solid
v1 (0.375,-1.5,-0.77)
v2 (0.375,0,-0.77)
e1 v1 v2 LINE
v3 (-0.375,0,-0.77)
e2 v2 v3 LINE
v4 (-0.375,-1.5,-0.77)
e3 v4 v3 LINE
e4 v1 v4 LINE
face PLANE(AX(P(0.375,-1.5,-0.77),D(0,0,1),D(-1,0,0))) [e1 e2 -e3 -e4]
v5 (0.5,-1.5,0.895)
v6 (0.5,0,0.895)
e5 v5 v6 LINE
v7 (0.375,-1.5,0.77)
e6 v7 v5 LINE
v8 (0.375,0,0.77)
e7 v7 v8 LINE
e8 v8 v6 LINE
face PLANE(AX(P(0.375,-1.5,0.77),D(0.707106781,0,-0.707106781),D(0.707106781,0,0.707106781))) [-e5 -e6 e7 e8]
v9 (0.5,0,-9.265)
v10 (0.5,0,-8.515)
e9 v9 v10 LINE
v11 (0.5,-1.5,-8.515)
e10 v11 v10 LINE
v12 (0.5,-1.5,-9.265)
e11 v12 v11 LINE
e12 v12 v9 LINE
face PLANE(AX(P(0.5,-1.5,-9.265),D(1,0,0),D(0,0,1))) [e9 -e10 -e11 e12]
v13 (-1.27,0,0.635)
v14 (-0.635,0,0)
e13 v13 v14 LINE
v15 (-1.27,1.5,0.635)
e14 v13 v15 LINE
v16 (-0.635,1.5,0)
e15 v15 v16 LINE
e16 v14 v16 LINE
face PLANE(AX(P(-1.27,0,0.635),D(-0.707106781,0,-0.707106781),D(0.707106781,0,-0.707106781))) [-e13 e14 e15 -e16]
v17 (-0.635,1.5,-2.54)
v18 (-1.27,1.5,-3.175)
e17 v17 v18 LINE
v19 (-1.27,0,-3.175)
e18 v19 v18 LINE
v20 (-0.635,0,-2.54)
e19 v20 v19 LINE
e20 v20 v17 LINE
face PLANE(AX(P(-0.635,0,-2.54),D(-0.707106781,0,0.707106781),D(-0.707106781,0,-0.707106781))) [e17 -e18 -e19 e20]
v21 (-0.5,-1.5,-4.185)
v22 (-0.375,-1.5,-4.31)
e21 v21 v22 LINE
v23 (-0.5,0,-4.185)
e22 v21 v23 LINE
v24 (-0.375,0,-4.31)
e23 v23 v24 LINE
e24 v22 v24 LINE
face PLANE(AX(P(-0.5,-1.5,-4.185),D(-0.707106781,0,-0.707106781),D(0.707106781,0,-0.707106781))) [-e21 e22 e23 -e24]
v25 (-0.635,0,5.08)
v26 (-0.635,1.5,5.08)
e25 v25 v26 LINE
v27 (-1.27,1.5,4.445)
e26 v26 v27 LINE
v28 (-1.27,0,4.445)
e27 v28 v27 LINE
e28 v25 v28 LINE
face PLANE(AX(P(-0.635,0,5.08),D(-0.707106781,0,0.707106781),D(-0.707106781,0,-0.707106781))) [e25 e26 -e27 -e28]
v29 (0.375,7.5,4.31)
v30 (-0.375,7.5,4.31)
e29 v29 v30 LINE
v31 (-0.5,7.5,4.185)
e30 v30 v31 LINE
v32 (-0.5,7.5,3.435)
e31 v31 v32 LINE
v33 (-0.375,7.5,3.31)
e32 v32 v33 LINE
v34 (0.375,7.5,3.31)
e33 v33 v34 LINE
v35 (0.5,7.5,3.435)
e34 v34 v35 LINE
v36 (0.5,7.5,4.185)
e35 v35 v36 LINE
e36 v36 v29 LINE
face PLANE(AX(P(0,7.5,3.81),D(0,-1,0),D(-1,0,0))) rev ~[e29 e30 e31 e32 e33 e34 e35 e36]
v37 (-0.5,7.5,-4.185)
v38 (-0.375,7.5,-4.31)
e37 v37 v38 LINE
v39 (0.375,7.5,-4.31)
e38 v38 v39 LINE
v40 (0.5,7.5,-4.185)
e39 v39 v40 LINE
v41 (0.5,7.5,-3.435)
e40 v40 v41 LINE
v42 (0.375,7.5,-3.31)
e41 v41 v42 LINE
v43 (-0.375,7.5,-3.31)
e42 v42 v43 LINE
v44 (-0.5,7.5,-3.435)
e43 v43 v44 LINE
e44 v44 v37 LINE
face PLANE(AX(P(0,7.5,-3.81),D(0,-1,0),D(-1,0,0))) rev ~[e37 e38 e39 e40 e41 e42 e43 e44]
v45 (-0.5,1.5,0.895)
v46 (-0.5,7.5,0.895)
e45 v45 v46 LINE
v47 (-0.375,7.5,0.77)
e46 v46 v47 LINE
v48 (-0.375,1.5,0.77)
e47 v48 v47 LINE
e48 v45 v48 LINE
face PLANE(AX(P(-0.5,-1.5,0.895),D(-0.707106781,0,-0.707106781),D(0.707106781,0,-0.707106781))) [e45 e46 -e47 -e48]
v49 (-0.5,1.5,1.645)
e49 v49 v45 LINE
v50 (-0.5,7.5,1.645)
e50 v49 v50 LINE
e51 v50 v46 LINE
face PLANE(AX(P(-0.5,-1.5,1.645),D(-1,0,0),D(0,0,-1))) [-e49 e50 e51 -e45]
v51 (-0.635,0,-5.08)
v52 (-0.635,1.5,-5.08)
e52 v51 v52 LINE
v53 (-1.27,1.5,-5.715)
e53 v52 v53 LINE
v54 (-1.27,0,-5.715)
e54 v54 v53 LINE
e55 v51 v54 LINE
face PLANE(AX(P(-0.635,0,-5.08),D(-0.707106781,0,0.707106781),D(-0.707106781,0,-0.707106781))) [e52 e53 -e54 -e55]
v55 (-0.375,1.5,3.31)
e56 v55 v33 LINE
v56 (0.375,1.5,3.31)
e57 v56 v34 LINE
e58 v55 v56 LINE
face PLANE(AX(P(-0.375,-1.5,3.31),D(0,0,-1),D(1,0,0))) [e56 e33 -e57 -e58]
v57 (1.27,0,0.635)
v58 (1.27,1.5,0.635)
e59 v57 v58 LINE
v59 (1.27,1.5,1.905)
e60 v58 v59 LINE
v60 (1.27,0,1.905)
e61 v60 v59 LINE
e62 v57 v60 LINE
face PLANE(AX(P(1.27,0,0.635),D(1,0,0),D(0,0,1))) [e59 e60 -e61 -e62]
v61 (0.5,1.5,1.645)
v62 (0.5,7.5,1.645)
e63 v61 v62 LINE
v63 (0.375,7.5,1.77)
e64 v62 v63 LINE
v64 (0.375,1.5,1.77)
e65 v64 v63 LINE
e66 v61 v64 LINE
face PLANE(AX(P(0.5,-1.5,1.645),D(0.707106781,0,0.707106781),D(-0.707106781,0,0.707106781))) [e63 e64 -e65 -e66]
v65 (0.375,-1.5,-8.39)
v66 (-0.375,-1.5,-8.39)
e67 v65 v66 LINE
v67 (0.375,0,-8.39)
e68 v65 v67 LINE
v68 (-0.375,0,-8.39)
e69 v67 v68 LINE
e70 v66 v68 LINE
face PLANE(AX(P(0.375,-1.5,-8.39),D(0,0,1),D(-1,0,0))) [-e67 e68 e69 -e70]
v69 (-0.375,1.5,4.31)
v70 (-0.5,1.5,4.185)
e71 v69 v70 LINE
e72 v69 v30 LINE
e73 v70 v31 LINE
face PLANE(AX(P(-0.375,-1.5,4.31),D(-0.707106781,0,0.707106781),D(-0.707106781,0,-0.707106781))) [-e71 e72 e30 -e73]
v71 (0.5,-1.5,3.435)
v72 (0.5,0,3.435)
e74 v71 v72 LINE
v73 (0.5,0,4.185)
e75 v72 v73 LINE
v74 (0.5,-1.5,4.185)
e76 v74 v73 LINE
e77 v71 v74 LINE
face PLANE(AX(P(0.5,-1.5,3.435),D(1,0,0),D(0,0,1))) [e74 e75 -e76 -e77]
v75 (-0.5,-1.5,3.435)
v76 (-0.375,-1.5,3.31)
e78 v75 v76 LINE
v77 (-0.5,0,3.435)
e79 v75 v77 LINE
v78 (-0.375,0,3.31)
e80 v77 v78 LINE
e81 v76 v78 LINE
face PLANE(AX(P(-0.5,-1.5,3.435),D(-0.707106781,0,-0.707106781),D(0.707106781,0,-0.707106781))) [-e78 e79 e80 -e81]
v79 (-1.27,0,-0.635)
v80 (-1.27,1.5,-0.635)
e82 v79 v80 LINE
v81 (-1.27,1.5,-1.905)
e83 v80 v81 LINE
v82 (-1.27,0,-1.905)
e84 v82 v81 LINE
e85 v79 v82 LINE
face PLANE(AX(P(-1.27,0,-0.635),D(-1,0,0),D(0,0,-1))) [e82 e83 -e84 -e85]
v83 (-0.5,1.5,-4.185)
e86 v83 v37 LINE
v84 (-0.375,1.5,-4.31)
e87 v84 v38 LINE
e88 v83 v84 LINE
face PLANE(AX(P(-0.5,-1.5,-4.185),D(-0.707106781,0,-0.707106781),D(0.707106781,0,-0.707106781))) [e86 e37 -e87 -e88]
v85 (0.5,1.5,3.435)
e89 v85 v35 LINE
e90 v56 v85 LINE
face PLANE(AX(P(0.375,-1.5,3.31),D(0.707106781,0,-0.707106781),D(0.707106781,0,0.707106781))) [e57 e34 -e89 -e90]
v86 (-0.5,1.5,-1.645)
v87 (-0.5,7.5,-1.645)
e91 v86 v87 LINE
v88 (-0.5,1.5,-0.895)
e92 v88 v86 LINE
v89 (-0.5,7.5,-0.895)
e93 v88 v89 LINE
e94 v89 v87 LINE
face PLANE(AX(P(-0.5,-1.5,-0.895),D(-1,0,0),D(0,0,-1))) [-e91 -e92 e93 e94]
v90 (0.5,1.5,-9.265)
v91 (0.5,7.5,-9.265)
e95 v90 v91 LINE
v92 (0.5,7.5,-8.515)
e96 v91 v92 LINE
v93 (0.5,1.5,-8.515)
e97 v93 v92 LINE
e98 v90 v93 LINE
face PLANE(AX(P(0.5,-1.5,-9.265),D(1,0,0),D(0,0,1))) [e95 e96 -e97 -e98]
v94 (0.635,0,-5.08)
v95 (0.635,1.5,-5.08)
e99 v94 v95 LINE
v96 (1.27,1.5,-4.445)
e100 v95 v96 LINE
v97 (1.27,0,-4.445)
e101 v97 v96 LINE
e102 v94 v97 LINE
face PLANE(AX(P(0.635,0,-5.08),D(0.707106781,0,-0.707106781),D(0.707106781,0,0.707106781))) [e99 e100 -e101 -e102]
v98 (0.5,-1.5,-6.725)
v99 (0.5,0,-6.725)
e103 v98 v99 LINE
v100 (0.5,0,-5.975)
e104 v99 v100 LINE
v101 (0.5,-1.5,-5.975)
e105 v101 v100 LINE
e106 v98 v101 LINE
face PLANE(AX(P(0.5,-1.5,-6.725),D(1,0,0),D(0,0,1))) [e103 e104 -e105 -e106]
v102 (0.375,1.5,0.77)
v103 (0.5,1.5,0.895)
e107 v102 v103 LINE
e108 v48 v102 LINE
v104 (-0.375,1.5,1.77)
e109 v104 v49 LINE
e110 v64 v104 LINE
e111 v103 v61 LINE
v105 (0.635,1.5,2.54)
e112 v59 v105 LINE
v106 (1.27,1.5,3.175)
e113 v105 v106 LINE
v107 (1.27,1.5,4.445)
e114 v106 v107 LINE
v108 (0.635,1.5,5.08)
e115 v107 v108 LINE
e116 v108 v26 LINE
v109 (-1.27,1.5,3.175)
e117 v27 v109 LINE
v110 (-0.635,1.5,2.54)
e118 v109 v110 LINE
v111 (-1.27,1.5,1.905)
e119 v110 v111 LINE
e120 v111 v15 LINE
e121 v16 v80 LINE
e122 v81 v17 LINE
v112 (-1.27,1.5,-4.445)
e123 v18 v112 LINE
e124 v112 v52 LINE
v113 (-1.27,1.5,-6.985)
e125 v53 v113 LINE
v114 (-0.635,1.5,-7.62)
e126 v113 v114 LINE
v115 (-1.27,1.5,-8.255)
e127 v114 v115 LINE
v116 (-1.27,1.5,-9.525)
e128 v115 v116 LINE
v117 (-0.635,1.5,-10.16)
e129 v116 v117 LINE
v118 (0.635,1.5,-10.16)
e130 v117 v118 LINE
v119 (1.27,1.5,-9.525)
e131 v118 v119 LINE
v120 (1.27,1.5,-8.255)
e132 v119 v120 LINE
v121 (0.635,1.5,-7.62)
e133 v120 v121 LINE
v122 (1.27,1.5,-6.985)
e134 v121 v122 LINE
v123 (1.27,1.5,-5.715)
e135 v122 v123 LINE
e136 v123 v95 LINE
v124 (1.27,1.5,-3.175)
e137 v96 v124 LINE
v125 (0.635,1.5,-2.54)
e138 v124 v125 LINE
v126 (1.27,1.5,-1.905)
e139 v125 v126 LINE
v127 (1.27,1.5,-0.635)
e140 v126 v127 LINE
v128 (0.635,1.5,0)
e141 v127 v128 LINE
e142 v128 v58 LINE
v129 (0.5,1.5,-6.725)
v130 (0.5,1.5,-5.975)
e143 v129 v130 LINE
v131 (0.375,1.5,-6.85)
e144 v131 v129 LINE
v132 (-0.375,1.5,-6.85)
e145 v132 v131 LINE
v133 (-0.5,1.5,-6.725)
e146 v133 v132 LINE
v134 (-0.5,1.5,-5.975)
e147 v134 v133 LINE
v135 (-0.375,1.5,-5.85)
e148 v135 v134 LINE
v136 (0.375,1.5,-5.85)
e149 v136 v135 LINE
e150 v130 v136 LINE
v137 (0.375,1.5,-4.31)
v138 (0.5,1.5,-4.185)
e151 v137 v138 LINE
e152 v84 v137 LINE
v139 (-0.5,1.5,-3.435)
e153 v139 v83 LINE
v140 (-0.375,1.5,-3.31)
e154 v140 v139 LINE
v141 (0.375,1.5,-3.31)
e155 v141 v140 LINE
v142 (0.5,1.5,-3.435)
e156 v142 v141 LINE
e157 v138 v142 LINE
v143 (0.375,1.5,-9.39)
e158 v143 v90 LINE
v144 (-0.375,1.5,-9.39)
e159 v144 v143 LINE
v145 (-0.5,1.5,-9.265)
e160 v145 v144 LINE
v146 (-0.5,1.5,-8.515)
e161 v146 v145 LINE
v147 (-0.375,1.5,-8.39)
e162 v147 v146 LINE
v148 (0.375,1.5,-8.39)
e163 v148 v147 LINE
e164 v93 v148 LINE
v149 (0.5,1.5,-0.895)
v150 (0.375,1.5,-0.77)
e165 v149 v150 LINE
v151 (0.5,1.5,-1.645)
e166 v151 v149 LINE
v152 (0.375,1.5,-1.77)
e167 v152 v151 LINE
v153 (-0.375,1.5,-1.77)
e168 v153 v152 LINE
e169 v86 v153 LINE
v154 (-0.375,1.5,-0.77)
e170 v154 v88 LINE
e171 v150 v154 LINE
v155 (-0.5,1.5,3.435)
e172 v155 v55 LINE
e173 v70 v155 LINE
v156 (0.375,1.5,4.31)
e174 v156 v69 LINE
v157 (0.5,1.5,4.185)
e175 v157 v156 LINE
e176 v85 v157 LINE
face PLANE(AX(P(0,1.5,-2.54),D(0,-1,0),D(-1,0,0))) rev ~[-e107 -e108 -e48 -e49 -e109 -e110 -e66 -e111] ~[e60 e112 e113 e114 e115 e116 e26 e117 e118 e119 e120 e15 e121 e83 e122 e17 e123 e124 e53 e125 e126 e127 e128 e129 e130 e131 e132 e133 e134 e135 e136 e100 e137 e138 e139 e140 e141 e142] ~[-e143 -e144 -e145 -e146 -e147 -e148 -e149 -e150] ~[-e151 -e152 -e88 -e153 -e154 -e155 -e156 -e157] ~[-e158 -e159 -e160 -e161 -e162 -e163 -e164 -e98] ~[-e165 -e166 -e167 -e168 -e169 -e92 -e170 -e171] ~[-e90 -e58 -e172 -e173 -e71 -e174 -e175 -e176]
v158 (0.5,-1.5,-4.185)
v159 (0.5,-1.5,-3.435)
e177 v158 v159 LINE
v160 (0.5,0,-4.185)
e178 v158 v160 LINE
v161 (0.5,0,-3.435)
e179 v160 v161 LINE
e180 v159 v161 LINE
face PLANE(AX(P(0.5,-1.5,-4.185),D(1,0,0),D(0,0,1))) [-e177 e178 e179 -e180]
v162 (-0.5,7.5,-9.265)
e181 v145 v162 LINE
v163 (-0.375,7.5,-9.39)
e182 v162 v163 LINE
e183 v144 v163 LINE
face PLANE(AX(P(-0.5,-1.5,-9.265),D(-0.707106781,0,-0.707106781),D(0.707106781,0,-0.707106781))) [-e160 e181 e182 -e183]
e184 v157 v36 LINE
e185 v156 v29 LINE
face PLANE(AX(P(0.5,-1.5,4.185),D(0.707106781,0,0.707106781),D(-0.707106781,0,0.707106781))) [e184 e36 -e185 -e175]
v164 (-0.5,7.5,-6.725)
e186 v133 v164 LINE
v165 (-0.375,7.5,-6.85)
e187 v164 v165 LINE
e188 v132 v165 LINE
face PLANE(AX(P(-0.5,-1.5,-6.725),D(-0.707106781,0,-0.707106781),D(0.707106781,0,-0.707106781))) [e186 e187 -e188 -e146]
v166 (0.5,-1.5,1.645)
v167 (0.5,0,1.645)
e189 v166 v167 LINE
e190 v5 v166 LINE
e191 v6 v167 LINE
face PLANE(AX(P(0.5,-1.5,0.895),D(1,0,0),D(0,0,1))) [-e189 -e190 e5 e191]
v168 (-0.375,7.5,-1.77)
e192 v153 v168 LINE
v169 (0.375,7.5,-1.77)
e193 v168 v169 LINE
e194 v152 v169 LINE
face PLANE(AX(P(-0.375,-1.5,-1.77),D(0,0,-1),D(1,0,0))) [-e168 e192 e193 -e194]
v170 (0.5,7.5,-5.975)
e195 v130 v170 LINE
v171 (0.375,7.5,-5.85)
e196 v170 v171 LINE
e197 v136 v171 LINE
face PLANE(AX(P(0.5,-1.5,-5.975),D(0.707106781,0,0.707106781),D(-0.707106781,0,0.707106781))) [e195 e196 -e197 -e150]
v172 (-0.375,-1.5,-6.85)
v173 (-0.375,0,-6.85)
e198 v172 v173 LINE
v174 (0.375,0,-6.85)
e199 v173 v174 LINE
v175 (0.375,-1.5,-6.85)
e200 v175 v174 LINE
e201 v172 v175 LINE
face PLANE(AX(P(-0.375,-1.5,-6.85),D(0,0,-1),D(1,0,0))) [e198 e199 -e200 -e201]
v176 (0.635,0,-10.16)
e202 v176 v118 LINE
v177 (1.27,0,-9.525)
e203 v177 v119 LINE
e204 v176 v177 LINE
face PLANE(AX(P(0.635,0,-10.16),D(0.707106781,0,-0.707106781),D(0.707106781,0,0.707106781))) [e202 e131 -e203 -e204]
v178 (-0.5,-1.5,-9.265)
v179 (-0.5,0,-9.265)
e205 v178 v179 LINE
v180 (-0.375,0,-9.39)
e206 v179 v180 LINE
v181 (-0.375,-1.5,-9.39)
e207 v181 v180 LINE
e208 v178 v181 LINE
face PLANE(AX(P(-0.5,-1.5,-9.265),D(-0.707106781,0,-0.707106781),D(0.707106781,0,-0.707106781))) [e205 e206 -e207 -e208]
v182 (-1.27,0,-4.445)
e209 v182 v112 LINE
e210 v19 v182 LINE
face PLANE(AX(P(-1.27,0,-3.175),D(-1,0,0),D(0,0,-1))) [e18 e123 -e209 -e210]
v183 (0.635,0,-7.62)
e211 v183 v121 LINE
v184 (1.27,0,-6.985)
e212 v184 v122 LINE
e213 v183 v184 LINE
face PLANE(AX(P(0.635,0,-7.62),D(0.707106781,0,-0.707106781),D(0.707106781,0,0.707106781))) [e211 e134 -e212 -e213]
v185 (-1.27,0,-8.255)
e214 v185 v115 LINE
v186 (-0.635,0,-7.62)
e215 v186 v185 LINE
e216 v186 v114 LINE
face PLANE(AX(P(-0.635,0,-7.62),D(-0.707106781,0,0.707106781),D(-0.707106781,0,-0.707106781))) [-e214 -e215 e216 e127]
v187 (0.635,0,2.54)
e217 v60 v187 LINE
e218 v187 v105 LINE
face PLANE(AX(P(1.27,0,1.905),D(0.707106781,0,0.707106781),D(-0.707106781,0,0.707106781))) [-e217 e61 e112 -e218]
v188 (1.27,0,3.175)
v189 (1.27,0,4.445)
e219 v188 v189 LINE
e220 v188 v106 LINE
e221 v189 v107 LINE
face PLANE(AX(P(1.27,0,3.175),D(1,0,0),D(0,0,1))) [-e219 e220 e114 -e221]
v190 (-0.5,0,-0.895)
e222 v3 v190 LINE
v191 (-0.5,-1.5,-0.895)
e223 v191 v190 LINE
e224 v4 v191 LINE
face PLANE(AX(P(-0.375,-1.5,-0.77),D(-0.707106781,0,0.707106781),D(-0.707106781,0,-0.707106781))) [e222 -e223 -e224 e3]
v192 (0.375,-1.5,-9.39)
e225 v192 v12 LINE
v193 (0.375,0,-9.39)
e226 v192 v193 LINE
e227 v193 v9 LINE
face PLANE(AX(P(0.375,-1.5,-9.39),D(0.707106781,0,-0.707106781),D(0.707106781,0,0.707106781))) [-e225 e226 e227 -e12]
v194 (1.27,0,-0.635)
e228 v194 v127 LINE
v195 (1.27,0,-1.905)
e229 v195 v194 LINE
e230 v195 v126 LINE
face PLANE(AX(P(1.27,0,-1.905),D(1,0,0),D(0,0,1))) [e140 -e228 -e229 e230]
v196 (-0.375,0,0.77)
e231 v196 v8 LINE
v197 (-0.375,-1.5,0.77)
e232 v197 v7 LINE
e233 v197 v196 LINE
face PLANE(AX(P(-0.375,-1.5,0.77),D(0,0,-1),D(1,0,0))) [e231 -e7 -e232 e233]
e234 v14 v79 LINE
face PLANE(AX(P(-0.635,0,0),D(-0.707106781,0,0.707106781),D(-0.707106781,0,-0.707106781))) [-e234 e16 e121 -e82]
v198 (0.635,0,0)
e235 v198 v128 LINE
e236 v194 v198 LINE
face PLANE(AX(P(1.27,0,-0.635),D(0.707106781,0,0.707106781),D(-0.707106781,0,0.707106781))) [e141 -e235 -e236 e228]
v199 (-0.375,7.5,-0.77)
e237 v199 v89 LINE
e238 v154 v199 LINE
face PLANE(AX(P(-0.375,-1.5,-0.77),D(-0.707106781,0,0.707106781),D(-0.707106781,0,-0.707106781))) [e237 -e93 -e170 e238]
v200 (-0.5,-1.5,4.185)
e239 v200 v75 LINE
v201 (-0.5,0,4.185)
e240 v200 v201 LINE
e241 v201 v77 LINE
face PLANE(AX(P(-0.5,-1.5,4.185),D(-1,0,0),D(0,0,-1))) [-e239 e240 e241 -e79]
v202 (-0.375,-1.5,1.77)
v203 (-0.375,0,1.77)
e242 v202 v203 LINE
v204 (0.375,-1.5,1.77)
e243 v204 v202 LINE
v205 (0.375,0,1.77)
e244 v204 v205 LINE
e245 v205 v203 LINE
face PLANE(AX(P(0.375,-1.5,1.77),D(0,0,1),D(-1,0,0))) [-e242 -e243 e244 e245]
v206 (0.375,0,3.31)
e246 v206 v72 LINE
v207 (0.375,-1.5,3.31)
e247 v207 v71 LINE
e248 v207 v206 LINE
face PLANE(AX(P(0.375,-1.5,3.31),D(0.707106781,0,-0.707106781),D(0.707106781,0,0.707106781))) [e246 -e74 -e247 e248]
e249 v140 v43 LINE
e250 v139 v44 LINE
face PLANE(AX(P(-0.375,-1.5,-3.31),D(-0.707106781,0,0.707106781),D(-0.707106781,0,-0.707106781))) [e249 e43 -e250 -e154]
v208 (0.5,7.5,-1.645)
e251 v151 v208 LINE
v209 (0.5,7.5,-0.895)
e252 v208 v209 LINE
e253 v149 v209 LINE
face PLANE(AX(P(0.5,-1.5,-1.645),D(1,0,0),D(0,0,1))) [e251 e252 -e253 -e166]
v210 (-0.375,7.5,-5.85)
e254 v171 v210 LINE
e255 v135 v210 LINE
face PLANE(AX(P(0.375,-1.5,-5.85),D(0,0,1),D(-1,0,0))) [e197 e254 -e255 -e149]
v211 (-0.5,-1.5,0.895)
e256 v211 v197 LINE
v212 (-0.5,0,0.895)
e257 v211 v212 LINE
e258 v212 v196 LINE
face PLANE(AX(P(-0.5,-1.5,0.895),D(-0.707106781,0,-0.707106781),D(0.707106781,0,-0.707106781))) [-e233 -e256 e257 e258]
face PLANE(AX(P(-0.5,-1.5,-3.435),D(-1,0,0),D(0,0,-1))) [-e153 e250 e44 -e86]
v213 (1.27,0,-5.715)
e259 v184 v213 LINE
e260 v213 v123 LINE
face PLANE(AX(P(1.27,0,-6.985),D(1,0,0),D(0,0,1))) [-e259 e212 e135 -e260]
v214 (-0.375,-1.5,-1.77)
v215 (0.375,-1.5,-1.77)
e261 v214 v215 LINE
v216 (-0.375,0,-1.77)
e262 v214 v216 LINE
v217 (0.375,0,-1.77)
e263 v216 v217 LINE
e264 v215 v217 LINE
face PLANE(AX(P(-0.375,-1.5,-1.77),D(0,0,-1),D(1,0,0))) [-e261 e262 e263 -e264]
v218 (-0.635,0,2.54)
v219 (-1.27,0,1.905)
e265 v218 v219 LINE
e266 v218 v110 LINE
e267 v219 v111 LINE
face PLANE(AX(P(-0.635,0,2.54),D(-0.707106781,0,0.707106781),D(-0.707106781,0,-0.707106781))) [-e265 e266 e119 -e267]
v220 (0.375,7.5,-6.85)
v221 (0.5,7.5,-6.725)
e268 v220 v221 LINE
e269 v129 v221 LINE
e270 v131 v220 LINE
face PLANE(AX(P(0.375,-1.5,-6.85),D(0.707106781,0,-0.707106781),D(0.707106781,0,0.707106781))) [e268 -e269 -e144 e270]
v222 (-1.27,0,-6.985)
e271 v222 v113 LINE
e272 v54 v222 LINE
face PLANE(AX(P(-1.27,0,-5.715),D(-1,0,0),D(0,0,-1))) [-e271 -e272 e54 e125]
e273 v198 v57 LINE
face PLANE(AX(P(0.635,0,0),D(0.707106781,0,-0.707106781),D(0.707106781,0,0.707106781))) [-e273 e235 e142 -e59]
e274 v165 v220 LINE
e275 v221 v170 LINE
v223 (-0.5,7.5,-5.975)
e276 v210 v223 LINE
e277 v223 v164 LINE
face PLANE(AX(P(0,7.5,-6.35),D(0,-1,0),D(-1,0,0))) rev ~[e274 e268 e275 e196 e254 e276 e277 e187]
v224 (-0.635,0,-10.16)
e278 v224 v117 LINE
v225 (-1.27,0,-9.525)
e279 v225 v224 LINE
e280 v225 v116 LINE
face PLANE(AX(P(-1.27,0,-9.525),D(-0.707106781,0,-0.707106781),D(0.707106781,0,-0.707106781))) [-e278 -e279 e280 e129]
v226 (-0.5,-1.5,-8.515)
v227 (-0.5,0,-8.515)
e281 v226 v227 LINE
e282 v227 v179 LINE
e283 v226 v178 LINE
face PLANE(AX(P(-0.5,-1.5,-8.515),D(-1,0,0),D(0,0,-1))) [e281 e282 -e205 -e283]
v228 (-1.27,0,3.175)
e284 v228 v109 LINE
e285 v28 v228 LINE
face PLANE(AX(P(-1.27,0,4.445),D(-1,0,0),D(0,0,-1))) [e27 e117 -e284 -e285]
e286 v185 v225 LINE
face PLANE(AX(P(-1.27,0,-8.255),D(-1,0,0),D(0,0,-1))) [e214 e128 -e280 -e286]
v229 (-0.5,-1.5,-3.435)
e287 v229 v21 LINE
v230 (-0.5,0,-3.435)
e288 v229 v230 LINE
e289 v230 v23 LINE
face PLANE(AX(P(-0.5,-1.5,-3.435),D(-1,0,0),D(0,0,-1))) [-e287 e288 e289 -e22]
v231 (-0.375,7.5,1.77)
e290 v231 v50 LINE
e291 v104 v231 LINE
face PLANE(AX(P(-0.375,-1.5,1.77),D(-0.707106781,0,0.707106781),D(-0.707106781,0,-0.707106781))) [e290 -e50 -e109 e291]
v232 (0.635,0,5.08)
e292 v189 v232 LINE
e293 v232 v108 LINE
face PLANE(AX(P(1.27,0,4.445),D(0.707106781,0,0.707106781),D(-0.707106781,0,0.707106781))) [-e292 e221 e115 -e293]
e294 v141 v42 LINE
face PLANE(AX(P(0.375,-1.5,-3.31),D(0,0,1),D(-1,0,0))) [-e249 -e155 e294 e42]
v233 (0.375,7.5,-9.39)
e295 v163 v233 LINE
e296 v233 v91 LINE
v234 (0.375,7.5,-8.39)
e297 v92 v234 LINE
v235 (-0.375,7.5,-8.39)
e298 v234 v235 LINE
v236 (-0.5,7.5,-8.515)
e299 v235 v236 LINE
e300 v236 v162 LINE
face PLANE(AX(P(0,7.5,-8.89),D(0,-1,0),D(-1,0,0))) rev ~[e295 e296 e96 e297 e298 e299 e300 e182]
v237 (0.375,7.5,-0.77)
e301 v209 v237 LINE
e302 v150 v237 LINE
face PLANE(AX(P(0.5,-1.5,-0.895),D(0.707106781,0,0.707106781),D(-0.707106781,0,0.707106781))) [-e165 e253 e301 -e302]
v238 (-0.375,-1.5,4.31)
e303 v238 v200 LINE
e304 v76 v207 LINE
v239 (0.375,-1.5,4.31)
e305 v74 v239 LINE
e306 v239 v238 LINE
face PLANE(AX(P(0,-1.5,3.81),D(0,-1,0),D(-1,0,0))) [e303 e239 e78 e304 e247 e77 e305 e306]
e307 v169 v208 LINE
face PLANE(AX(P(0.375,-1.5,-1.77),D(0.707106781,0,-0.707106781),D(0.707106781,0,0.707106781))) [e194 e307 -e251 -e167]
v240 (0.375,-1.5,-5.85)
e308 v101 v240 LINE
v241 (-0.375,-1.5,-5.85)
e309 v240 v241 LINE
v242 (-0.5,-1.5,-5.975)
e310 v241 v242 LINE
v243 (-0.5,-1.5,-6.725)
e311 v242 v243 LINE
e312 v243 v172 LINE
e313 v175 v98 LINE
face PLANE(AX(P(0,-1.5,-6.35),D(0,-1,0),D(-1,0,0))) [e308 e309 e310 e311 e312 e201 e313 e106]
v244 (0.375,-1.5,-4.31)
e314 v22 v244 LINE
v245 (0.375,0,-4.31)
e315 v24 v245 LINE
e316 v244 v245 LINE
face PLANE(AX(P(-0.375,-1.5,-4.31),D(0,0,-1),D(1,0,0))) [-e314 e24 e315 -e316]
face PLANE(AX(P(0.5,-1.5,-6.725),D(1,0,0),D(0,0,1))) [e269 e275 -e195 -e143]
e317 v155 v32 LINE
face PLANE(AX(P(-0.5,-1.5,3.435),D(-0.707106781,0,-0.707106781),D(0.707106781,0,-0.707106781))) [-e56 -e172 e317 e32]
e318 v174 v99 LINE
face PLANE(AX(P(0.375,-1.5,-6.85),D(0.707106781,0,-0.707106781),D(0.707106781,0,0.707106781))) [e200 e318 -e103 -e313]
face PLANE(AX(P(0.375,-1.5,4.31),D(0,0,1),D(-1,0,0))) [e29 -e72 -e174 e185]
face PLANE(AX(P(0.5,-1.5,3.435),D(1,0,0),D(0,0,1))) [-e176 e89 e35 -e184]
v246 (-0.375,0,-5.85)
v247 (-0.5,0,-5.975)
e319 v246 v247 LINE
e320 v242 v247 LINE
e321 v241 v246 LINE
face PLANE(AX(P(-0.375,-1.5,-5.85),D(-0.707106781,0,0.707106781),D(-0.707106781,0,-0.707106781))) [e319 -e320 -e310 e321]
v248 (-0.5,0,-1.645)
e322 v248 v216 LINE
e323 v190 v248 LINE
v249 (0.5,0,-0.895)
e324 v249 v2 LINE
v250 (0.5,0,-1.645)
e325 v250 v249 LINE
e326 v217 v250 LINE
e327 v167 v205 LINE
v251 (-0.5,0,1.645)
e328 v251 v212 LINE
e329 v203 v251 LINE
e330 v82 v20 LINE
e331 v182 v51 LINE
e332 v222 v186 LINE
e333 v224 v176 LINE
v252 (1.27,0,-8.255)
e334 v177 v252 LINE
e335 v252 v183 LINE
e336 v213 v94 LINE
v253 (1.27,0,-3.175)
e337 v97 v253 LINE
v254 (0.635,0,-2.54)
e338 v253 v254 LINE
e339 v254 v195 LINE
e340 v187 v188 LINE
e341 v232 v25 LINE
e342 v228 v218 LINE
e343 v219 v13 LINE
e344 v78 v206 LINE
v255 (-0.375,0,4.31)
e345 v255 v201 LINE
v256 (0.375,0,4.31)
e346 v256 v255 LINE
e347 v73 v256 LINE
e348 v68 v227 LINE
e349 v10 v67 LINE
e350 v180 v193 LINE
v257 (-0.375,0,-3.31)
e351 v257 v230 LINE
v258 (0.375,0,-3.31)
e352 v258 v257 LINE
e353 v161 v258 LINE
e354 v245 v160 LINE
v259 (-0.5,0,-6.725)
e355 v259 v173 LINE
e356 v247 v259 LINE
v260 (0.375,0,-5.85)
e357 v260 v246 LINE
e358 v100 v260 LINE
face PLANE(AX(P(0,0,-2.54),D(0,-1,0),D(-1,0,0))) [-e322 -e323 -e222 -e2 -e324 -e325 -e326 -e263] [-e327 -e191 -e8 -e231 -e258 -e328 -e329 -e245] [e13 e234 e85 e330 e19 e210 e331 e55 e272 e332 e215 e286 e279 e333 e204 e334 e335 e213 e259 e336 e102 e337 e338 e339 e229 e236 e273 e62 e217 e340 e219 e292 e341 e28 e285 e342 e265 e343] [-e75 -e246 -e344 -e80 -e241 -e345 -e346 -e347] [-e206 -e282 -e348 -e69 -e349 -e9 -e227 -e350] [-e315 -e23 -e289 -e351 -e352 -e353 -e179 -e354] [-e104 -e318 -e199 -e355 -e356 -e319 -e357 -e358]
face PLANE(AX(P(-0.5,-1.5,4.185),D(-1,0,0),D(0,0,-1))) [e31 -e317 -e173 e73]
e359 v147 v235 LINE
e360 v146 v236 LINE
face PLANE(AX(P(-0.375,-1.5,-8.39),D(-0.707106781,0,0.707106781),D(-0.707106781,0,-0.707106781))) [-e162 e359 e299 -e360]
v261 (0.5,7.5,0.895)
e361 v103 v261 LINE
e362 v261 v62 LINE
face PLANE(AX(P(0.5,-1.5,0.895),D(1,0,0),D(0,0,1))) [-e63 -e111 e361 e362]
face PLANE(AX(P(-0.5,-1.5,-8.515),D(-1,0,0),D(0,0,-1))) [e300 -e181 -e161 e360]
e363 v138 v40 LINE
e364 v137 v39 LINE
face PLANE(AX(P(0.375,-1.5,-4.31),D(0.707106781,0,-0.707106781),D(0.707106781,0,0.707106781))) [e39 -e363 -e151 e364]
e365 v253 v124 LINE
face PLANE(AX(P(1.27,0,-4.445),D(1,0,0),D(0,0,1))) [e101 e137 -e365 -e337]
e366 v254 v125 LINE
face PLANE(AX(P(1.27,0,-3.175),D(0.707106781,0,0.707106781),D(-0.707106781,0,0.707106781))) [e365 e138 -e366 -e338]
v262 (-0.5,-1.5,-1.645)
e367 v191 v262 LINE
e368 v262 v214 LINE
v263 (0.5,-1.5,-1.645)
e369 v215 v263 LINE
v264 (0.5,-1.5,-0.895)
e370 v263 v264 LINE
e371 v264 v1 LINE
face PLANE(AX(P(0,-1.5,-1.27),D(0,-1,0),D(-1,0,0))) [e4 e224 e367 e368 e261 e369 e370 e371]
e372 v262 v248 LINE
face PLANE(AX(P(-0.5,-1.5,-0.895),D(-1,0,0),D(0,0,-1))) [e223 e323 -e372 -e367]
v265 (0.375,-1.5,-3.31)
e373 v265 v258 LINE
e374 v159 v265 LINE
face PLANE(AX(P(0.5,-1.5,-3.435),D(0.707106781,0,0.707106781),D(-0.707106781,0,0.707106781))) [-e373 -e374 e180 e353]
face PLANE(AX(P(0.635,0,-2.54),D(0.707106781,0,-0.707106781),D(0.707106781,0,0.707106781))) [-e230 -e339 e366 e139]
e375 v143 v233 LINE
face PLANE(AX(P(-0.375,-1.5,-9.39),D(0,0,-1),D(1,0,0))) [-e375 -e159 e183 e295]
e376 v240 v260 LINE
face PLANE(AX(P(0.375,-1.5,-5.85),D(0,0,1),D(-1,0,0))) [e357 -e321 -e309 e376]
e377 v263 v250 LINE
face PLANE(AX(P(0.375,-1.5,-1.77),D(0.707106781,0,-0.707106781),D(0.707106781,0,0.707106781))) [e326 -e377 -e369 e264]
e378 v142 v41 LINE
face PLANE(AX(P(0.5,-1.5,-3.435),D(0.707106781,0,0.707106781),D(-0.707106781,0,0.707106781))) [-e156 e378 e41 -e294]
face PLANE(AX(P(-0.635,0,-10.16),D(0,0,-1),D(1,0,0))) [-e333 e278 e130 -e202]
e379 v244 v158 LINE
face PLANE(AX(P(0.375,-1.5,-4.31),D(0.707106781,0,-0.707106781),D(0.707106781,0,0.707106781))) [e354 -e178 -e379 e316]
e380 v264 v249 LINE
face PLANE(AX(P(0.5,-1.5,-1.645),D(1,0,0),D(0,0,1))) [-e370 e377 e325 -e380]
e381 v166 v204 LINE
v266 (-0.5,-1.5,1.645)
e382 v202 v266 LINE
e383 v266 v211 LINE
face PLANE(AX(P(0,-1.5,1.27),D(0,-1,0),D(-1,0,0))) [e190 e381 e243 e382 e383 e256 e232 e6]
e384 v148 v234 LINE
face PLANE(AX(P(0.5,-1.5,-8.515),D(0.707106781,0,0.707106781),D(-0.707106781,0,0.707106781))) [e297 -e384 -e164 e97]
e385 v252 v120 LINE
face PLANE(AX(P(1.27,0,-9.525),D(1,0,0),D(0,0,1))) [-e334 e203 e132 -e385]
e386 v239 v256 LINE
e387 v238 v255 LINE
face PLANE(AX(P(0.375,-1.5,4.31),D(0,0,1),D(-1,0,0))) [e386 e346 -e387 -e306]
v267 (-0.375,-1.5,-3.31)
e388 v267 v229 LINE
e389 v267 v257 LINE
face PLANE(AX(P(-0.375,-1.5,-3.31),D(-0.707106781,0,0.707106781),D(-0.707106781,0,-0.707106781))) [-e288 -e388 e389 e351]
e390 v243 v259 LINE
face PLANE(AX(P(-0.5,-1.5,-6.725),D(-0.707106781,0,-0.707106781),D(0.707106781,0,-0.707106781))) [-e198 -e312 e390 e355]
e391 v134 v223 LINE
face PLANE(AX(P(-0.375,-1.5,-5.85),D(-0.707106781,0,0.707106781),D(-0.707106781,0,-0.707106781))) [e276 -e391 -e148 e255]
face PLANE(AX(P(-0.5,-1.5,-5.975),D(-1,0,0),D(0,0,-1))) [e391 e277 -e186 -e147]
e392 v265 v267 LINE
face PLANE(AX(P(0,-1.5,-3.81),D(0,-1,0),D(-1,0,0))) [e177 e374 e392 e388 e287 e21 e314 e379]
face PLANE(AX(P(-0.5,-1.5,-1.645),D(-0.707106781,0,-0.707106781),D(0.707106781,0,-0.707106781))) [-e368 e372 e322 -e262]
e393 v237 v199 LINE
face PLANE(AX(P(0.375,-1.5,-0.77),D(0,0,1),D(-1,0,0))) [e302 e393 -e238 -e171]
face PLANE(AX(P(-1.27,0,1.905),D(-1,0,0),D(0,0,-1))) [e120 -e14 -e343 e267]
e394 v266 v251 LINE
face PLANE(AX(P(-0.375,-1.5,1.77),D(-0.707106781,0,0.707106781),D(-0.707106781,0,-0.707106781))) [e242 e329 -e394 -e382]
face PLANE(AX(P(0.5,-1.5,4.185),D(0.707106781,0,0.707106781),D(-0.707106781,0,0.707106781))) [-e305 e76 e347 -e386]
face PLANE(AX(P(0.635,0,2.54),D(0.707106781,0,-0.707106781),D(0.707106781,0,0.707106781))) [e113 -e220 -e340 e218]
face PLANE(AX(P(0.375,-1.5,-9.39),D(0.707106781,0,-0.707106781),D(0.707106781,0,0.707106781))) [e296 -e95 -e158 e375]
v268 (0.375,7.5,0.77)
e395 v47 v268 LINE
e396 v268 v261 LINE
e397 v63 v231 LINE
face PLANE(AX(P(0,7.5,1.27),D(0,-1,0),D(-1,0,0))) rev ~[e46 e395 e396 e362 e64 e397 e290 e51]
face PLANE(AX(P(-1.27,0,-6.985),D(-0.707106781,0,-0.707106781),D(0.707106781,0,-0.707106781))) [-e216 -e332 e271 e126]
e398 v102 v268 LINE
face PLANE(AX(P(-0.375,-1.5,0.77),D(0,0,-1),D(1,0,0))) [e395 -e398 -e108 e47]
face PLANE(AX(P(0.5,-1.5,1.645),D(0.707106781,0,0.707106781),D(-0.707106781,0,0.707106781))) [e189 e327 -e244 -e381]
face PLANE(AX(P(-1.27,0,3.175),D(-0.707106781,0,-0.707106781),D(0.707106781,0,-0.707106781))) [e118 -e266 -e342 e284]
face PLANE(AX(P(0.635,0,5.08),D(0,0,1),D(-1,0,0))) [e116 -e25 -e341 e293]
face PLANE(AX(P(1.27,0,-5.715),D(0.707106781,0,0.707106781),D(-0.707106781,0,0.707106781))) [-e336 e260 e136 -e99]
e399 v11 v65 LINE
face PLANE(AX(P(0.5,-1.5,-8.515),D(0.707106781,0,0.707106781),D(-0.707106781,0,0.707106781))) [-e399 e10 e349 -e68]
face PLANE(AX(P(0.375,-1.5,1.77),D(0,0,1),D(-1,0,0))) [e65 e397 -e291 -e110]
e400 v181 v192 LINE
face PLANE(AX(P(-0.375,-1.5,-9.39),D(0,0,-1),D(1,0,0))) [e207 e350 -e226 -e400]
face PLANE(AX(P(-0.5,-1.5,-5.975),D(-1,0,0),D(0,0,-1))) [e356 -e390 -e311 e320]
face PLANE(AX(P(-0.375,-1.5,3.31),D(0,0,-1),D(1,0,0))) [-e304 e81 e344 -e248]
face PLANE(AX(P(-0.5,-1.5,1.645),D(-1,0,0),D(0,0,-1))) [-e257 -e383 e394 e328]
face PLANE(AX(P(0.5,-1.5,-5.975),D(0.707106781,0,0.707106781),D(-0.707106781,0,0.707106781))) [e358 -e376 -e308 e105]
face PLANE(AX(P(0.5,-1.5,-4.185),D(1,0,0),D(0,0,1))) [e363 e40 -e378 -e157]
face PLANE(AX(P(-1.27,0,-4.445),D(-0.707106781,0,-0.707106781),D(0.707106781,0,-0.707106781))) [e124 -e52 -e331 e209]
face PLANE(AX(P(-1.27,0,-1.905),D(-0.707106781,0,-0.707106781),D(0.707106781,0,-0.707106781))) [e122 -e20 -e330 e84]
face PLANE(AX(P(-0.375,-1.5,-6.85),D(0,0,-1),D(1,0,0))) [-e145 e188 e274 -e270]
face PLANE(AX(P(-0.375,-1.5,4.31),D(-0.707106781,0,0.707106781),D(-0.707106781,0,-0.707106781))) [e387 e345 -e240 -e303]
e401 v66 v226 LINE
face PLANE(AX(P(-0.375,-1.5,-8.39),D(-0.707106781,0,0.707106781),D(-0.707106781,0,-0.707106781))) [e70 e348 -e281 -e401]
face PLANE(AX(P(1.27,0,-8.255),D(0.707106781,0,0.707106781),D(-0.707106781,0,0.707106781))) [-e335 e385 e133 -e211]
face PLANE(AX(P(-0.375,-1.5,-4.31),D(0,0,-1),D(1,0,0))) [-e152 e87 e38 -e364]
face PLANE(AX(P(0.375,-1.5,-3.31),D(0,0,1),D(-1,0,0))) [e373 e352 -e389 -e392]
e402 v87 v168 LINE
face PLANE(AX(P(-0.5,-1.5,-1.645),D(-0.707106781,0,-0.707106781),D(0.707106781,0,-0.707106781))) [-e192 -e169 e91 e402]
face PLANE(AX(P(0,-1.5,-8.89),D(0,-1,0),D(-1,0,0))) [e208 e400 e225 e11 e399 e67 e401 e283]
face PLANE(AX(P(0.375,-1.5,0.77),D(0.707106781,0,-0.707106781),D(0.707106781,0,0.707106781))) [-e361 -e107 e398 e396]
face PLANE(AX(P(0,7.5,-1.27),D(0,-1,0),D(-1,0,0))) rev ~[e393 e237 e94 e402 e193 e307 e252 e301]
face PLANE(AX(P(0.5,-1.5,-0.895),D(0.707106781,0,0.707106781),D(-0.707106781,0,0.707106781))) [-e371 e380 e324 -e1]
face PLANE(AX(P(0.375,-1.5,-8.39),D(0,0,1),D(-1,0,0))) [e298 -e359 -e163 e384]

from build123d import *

# Parameters (mm, degrees)
BOSS_EXTRUDE1_DEPTH      = 1.5
BOSS_EXTRUDE2_DEPTH      = 6
BOSS_EXTRUDE2_DEPTH_BACK = 3


with BuildPart() as part:
    # Sketch1 → Boss-Extrude1 (new body)
    with BuildSketch(Plane(origin=(0, 0, 0), x_dir=(1, 0, 0), z_dir=(0, 1, 0))):
        Polygon((-0.635, 10.16), (0.635, 10.16), (1.27, 9.525), (1.27, 8.255), (0.635, 7.62), (1.27, 6.985), (1.27, 5.715), (0.635, 5.08), (1.27, 4.445), (1.27, 3.175), (0.635, 2.54), (1.27, 1.905), (1.27, 0.635), (0.635, 0), (1.27, -0.635), (1.27, -1.905), (0.635, -2.54), (1.27, -3.175), (1.27, -4.445), (0.635, -5.08), (-0.635, -5.08), (-1.27, -4.445), (-1.27, -3.175), (-0.635, -2.54), (-1.27, -1.905), (-1.27, -0.635), (-0.635, 0), (-1.27, 0.635), (-1.27, 1.905), (-0.635, 2.54), (-1.27, 3.175), (-1.27, 4.445), (-0.635, 5.08), (-1.27, 5.715), (-1.27, 6.985), (-0.635, 7.62), (-1.27, 8.255), (-1.27, 9.525), align=None)
    extrude(amount=BOSS_EXTRUDE1_DEPTH)

    # Sketch3 → Boss-Extrude2 (add, two sides: drawn at the far end of the back side and taken through both)
    with BuildSketch(Plane(origin=(0, 1.5, 0), x_dir=(1, 0, 0), z_dir=(0, 1, 0)).offset(-BOSS_EXTRUDE2_DEPTH_BACK)):
        Polygon((0.375, 9.39), (0.5, 9.265), (0.5, 8.515), (0.375, 8.39), (-0.375, 8.39), (-0.5, 8.515), (-0.5, 9.265), (-0.375, 9.39), align=None)
        Polygon((0.375, 6.85), (0.5, 6.725), (0.5, 5.975), (0.375, 5.85), (-0.375, 5.85), (-0.5, 5.975), (-0.5, 6.725), (-0.375, 6.85), align=None)
        Polygon((0.375, 4.31), (0.5, 4.185), (0.5, 3.435), (0.375, 3.31), (-0.375, 3.31), (-0.5, 3.435), (-0.5, 4.185), (-0.375, 4.31), align=None)
        Polygon((0.375, 1.77), (0.5, 1.645), (0.5, 0.895), (0.375, 0.77), (-0.375, 0.77), (-0.5, 0.895), (-0.5, 1.645), (-0.375, 1.77), align=None)
        Polygon((0.375, -0.77), (0.5, -0.895), (0.5, -1.645), (0.375, -1.77), (-0.375, -1.77), (-0.5, -1.645), (-0.5, -0.895), (-0.375, -0.77), align=None)
        Polygon((0.375, -3.31), (0.5, -3.435), (0.5, -4.185), (0.375, -4.31), (-0.375, -4.31), (-0.5, -4.185), (-0.5, -3.435), (-0.375, -3.31), align=None)
    extrude(amount=BOSS_EXTRUDE2_DEPTH + BOSS_EXTRUDE2_DEPTH_BACK)


solid = part.part
